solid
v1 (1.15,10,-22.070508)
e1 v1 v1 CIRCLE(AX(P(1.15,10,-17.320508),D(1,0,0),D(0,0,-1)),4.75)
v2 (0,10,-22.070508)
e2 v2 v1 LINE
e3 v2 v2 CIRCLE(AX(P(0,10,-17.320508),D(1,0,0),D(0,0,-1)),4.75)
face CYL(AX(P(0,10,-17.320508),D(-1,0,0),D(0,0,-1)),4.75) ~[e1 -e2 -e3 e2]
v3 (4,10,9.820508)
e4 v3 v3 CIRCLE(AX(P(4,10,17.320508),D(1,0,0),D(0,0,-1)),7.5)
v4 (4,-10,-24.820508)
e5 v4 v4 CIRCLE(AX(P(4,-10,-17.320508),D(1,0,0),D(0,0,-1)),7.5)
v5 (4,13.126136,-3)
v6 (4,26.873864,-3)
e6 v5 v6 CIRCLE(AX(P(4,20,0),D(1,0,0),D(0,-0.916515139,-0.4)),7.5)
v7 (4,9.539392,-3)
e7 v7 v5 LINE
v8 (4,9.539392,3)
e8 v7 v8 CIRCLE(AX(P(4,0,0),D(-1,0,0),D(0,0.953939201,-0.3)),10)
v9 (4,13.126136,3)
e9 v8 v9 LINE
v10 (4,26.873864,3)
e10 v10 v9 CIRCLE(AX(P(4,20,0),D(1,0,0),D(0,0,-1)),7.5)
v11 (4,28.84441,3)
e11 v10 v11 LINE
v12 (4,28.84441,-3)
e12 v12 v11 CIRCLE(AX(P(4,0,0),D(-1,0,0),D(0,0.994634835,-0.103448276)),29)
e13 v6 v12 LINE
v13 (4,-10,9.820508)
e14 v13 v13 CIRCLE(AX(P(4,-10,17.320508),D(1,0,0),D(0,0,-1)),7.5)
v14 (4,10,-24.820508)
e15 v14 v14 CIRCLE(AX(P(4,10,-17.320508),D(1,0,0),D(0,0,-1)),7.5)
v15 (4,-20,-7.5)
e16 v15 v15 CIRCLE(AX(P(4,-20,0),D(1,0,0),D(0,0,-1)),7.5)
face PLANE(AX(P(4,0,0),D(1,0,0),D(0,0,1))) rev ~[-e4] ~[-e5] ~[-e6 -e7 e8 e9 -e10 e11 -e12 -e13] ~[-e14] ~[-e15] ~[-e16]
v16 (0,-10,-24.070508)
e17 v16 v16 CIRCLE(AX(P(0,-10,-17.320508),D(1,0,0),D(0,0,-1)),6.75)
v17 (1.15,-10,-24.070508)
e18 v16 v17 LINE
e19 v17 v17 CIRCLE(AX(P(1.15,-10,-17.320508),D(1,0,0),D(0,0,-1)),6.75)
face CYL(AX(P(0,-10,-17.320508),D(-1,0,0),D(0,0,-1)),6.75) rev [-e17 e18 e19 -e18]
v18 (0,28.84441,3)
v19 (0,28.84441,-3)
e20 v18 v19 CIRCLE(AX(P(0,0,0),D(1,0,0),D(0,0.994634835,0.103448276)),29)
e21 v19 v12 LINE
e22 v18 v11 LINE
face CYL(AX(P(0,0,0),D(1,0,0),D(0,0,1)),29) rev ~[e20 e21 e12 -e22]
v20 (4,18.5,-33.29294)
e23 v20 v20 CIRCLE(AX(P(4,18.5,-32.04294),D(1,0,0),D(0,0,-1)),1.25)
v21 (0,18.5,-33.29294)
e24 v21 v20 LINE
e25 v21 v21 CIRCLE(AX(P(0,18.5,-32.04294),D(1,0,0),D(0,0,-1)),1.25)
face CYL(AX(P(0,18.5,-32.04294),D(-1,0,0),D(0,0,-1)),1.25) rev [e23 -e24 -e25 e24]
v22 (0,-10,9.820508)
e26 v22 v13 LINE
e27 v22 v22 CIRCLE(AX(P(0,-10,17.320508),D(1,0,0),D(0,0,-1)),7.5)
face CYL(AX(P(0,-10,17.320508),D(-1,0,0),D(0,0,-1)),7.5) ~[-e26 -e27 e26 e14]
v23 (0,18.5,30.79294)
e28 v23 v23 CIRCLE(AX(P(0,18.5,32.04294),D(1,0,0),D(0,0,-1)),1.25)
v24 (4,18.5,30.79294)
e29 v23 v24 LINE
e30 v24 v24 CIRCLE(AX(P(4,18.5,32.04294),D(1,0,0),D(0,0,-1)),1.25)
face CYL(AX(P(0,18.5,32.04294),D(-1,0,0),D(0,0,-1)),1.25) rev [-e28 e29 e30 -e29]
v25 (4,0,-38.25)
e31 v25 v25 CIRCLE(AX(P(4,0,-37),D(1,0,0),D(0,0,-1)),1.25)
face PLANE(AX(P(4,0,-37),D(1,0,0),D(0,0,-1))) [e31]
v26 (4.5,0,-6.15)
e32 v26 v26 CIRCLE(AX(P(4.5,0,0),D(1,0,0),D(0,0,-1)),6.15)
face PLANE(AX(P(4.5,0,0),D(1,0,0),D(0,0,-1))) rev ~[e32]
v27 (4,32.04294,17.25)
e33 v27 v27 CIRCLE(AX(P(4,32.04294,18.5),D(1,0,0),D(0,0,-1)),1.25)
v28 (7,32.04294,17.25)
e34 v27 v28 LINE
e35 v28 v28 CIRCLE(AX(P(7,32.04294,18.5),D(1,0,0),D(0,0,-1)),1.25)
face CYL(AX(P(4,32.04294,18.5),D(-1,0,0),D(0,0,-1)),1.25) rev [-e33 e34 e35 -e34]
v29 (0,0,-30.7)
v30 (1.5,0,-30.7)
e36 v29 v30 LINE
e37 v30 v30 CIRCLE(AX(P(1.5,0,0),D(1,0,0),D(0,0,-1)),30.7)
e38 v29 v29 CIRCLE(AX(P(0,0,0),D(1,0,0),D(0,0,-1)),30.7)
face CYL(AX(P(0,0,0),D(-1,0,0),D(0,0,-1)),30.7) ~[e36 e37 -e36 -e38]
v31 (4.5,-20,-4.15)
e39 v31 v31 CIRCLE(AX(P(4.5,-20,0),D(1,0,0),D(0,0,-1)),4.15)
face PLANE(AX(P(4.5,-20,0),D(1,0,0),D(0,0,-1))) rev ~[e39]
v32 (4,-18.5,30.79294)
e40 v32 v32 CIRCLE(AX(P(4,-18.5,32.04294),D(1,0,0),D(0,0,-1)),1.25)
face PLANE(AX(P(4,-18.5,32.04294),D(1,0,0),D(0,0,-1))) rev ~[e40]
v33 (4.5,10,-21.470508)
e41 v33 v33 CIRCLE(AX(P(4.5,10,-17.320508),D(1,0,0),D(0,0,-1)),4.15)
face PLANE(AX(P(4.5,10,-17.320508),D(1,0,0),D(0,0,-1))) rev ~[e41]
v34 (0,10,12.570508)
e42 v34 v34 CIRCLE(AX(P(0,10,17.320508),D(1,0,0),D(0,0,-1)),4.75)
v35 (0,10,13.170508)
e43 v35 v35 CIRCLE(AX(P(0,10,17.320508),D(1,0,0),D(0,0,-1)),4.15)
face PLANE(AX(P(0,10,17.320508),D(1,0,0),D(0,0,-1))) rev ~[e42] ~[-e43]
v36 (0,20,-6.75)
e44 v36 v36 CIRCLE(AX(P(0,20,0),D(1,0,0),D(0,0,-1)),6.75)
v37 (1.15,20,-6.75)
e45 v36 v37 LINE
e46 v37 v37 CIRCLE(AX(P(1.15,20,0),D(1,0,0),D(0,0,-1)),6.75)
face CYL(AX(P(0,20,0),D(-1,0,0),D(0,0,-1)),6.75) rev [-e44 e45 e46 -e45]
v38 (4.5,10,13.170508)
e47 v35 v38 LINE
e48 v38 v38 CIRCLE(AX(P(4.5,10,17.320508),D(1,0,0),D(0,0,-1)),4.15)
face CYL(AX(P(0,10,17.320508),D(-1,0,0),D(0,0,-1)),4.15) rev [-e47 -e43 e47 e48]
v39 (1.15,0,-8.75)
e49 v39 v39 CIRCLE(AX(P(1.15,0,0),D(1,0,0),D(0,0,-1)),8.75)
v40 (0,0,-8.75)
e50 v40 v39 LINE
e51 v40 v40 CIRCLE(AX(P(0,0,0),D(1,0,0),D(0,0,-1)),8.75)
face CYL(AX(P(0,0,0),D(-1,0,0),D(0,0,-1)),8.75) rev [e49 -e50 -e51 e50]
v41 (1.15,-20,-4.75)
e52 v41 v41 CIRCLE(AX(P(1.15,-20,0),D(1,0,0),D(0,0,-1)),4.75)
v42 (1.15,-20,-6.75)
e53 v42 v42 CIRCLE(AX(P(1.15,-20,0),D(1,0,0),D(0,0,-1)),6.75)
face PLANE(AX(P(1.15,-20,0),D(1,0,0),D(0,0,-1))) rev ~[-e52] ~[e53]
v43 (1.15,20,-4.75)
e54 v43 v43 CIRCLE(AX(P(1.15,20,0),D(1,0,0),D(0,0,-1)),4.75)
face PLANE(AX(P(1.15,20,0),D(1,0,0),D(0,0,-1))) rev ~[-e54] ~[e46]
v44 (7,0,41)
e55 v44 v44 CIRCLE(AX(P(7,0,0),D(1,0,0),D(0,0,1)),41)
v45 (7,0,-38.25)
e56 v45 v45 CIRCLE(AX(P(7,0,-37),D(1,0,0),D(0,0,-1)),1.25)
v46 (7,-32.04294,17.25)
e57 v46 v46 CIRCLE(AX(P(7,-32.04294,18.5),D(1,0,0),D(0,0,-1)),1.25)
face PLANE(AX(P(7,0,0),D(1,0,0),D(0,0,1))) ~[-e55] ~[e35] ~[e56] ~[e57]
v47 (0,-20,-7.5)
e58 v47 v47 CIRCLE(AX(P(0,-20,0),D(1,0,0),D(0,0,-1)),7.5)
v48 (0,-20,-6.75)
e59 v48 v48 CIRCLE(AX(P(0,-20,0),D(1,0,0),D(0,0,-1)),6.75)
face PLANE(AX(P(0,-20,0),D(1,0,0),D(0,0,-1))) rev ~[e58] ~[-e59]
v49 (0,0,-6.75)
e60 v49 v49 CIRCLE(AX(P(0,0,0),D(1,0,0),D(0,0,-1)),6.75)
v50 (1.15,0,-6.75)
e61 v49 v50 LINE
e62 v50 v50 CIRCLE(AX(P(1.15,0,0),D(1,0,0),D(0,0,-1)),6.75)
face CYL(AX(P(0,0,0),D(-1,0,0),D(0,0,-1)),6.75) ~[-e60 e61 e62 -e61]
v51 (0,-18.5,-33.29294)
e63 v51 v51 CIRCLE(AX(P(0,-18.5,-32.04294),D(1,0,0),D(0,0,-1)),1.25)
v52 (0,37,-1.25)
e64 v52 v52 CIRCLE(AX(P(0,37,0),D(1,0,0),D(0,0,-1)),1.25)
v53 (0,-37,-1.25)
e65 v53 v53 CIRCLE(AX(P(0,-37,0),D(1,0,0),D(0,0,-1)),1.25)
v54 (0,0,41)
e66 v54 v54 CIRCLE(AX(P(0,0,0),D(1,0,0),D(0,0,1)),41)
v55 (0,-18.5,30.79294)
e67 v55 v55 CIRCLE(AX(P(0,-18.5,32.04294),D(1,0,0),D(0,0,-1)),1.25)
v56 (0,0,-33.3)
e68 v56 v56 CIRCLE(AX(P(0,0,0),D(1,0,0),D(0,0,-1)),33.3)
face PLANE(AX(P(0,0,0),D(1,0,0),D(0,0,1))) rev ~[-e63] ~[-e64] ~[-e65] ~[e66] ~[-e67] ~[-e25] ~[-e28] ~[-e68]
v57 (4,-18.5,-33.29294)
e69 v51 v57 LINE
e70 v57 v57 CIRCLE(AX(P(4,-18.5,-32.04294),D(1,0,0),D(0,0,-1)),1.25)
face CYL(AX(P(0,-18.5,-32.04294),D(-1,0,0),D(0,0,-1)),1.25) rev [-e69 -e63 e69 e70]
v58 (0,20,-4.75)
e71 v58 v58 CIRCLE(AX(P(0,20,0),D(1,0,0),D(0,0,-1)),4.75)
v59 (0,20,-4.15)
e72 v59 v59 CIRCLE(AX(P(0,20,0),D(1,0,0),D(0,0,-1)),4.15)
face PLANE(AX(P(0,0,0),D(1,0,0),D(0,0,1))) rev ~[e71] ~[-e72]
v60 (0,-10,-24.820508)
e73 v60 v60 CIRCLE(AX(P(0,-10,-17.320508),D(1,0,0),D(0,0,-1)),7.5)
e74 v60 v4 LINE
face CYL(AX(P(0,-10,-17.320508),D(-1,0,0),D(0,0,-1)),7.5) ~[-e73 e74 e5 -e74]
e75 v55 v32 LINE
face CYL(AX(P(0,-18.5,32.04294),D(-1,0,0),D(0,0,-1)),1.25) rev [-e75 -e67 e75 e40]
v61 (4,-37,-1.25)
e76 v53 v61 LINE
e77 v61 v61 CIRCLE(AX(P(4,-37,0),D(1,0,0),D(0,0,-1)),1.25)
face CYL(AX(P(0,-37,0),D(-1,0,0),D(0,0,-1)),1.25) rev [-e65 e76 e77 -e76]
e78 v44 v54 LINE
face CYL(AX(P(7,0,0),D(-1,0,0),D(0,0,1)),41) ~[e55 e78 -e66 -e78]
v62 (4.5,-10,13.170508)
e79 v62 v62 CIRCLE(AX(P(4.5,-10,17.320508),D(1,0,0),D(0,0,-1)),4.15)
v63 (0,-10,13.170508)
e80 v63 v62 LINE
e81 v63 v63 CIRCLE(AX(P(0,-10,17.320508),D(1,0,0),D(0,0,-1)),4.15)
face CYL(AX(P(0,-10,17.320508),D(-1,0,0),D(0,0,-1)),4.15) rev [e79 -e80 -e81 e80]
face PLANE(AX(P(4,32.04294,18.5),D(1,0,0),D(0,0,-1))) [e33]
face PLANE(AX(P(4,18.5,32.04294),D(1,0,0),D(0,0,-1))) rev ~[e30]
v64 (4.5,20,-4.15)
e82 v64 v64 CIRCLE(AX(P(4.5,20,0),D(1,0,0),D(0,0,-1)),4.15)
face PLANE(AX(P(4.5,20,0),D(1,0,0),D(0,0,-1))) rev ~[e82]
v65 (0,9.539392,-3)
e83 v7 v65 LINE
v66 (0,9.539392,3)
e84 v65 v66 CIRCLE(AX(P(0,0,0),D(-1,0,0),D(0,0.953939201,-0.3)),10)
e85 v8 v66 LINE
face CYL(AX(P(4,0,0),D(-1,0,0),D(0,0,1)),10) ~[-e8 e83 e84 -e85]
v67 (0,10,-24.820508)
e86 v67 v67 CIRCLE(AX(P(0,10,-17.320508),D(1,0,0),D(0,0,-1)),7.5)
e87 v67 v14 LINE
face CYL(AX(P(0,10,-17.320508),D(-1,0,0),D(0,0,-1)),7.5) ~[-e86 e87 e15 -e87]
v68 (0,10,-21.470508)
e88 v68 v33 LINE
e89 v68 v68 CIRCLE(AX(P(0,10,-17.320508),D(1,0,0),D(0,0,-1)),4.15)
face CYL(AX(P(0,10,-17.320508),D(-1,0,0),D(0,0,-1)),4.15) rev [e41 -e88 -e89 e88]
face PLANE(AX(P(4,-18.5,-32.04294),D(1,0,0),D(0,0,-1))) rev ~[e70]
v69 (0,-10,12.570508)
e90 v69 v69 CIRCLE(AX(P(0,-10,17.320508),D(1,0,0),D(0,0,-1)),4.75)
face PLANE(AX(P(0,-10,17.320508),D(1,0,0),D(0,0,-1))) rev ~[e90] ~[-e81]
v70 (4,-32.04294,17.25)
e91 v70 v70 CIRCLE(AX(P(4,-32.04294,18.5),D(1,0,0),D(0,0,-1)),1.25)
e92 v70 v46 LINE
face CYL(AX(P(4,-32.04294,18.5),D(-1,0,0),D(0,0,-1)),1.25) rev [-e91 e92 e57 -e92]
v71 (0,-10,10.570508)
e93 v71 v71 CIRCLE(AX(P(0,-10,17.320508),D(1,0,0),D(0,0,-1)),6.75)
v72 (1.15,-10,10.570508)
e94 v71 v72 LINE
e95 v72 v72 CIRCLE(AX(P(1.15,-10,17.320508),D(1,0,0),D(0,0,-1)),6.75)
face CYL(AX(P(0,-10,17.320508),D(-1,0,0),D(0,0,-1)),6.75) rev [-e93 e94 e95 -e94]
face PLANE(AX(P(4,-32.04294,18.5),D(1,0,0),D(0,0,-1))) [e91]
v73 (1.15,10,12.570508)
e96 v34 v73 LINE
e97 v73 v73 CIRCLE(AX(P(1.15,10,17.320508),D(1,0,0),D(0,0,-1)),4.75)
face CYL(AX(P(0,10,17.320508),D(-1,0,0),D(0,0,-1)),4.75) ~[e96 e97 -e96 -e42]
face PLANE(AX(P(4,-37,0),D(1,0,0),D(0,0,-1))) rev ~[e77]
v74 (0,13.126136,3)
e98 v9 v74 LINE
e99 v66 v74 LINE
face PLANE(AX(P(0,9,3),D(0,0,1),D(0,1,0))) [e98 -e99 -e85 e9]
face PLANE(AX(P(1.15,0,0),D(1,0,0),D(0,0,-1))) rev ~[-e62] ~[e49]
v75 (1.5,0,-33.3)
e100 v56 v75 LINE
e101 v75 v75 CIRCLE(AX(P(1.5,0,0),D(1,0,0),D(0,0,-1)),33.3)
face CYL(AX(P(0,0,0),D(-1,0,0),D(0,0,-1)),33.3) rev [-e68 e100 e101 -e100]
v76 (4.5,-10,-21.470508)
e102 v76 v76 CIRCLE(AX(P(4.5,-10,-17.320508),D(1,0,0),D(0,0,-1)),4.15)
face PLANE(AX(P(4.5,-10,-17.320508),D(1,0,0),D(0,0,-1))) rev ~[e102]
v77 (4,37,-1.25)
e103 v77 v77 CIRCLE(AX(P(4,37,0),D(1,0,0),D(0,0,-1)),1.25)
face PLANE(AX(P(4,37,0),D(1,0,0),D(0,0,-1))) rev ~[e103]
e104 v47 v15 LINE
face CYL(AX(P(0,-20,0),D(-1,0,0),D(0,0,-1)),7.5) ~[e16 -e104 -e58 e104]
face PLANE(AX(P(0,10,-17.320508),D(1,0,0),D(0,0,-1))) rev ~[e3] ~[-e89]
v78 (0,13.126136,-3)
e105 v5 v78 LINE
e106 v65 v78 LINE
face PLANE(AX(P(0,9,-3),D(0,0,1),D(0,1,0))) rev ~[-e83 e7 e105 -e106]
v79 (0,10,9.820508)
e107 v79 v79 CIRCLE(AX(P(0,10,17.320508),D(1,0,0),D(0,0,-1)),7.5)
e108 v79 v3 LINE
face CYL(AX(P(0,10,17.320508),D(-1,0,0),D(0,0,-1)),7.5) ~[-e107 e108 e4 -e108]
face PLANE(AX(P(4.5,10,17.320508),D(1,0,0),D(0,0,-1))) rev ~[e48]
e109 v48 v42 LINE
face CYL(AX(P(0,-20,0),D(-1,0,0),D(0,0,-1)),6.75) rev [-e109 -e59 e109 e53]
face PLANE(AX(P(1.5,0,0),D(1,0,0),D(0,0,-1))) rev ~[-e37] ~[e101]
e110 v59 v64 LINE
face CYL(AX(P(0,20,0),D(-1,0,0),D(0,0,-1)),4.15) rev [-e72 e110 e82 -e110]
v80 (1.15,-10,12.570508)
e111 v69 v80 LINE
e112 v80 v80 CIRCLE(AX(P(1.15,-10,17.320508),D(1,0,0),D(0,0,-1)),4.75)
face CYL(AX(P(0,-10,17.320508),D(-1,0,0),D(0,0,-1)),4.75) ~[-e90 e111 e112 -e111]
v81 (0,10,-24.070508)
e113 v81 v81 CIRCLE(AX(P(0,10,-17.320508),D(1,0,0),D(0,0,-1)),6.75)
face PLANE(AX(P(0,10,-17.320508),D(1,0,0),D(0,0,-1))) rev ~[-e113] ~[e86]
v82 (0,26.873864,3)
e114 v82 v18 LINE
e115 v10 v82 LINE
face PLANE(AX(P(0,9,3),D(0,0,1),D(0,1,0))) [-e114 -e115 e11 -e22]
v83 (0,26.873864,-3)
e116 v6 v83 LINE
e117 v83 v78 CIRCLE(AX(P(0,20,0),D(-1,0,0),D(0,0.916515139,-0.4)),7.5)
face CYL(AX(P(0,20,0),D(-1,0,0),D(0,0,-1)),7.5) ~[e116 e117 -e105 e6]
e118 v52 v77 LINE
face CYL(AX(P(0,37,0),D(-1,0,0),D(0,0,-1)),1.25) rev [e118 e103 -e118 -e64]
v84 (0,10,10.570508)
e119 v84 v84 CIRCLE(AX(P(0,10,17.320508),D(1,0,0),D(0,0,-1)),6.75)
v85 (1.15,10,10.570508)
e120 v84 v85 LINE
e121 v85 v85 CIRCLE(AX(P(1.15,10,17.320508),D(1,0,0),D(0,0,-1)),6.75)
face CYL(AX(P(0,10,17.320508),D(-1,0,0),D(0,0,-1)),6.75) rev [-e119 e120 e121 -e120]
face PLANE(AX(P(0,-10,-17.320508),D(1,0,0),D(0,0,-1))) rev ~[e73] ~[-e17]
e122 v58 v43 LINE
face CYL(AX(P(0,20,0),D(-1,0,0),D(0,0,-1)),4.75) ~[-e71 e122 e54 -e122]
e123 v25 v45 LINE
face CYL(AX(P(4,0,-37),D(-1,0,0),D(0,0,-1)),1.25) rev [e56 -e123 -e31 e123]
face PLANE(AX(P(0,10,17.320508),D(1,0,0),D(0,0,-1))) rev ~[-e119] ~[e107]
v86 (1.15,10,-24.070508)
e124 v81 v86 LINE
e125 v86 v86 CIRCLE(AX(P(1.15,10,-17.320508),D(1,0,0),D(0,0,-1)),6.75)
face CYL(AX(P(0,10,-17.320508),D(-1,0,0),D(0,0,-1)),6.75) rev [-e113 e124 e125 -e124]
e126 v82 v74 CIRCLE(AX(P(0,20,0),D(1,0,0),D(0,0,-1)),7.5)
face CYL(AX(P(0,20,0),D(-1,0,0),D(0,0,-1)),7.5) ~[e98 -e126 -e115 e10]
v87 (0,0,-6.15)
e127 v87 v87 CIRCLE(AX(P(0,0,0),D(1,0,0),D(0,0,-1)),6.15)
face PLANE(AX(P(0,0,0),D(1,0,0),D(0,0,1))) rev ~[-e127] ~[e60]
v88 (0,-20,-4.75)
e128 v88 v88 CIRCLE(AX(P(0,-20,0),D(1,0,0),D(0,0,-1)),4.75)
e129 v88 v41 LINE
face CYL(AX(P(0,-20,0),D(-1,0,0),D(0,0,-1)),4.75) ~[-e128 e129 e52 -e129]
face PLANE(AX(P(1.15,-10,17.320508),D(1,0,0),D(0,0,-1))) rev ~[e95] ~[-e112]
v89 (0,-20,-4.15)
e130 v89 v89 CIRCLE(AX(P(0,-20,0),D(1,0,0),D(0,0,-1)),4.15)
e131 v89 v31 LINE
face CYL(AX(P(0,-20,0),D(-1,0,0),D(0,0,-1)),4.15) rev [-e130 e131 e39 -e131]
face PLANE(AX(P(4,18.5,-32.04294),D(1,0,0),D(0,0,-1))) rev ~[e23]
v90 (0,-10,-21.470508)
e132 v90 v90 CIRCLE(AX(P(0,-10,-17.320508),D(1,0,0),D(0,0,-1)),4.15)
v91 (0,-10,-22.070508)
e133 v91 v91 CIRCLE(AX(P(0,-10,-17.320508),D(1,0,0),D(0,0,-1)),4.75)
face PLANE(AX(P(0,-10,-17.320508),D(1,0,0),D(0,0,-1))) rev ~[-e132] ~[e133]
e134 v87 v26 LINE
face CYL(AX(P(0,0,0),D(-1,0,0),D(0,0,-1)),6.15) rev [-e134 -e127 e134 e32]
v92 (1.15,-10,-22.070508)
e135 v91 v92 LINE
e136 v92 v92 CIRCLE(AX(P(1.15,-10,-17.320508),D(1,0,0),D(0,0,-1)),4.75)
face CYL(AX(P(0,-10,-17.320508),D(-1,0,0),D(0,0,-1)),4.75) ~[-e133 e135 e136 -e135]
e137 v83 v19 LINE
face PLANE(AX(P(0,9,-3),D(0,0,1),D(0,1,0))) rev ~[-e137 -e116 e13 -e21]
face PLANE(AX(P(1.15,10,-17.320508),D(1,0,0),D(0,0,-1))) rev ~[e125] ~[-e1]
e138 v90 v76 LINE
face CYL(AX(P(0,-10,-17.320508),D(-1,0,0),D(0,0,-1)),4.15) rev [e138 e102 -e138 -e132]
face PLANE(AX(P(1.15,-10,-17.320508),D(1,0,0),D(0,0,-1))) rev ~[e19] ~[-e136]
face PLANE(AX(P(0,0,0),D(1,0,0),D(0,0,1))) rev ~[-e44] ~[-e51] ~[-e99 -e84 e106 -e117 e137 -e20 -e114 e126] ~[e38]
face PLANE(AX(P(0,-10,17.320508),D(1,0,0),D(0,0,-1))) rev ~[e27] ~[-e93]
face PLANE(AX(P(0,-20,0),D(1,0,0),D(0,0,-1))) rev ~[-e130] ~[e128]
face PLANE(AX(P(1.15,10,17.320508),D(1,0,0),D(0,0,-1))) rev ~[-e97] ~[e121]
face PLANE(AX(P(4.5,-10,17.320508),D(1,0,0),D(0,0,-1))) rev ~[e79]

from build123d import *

# Parameters (mm, degrees)
SIX_INTEGRAL_DRY_MAGNET_WELL_ISLANDS_SKE_R     = 7.5
SIX_INTEGRAL_DRY_MAGNET_WELL_ISLANDS_DEPTH     = 4
INTEGRAL_6MM_WIDE_CHANNEL_DIVIDER_SKETCH_W     = 6
INTEGRAL_6MM_WIDE_CHANNEL_DIVIDER_SKETCH_H     = 21
INTEGRAL_6MM_WIDE_CHANNEL_DIVIDER_DEPTH        = 4
SEVEN_DRY_BLIND_MAGNET_WELLS_DEPTH4P5_SK_R     = 6.15
SEVEN_DRY_BLIND_MAGNET_WELLS_DEPTH4P5_SK_R_2   = 4.15
SEVEN_DRY_BLIND_MAGNET_WELLS_DEPTH4P5_DEPTH    = 4.5
CENTER_WELL_ID14X1P5_FACE_GLAND_SKETCH_R       = 8.75
CENTER_WELL_ID14X1P5_FACE_GLAND_SKETCH_R_2     = 6.75
CENTER_WELL_ID14X1P5_FACE_GLAND_DEPTH          = 1.15
OUTER_DRY_WELL_FACE_GLAND_1_SKETCH_R           = 6.75
OUTER_DRY_WELL_FACE_GLAND_1_SKETCH_R_2         = 4.75
OUTER_DRY_WELL_FACE_GLAND_1_DEPTH              = 1.15
OUTER_DRY_WELL_FACE_GLAND_2_SKETCH_R           = 6.75
OUTER_DRY_WELL_FACE_GLAND_2_SKETCH_R_2         = 4.75
OUTER_DRY_WELL_FACE_GLAND_2_DEPTH              = 1.15
OUTER_DRY_WELL_FACE_GLAND_3_SKETCH_R           = 6.75
OUTER_DRY_WELL_FACE_GLAND_3_SKETCH_R_2         = 4.75
OUTER_DRY_WELL_FACE_GLAND_3_DEPTH              = 1.15
OUTER_DRY_WELL_FACE_GLAND_4_SKETCH_R           = 6.75
OUTER_DRY_WELL_FACE_GLAND_4_SKETCH_R_2         = 4.75
OUTER_DRY_WELL_FACE_GLAND_4_DEPTH              = 1.15
OUTER_DRY_WELL_FACE_GLAND_5_SKETCH_R           = 6.75
OUTER_DRY_WELL_FACE_GLAND_5_SKETCH_R_2         = 4.75
OUTER_DRY_WELL_FACE_GLAND_5_DEPTH              = 1.15
OUTER_DRY_WELL_FACE_GLAND_6_SKETCH_R           = 6.75
OUTER_DRY_WELL_FACE_GLAND_6_SKETCH_R_2         = 4.75
OUTER_DRY_WELL_FACE_GLAND_6_DEPTH              = 1.15
PERIMETER_ID62X2_FACE_GLAND_SKETCH_R           = 33.3
PERIMETER_ID62X2_FACE_GLAND_SKETCH_R_2         = 30.7
PERIMETER_ID62X2_FACE_GLAND_DEPTH              = 1.5
SIX_REAR_M3_PILOT_POCKETS_PCD74_SKETCH_R       = 1.25
SIX_REAR_M3_PILOT_POCKETS_PCD74_DEPTH          = 4
THREE_START                                    = 4
THREE_INDEPENDENT_TARGET_CLAMP_PILOT_2_R       = 1.25
THREE_INDEPENDENT_TARGET_CLAMP_PILOTS_PC_DEPTH = 3


with BuildPart() as part:
    # Axial blank profile → Native revolved blank (revolve)
    with BuildSketch(Plane.XY, mode=Mode.PRIVATE) as native_revolved_blank_sk:
        Polygon((0, 0), (7, 0), (7, 41), (0, 41), (0, 29), (4, 29), (4, 10), (0, 10), align=None)
    revolve(native_revolved_blank_sk.sketch.rotate(Axis((-60, 0, 0), (1, 0, 0)), 90), axis=Axis((-60, 0, 0), (1, 0, 0)))

    # Six integral dry magnet-well islands sketch → Six integral dry magnet-well islands (add)
    with BuildSketch(Plane(origin=(0, 0, 0), x_dir=(0, 0, -1), z_dir=(1, 0, 0))):
        with Locations((0, 20)):
            Circle(SIX_INTEGRAL_DRY_MAGNET_WELL_ISLANDS_SKE_R)
        with Locations((-17.320508076, 10)):
            Circle(SIX_INTEGRAL_DRY_MAGNET_WELL_ISLANDS_SKE_R)
        with Locations((-17.320508076, -10)):
            Circle(SIX_INTEGRAL_DRY_MAGNET_WELL_ISLANDS_SKE_R)
        with Locations((0, -20)):
            Circle(SIX_INTEGRAL_DRY_MAGNET_WELL_ISLANDS_SKE_R)
        with Locations((17.320508076, -10)):
            Circle(SIX_INTEGRAL_DRY_MAGNET_WELL_ISLANDS_SKE_R)
        with Locations((17.320508076, 10)):
            Circle(SIX_INTEGRAL_DRY_MAGNET_WELL_ISLANDS_SKE_R)
    extrude(amount=SIX_INTEGRAL_DRY_MAGNET_WELL_ISLANDS_DEPTH)

    # Integral 6mm-wide channel divider sketch → Integral 6mm-wide channel divider (add)
    with BuildSketch(Plane(origin=(0, 0, 0), x_dir=(0, 0, -1), z_dir=(1, 0, 0))):
        with Locations((0, 19.5)):
            Rectangle(INTEGRAL_6MM_WIDE_CHANNEL_DIVIDER_SKETCH_W, INTEGRAL_6MM_WIDE_CHANNEL_DIVIDER_SKETCH_H)
    extrude(amount=INTEGRAL_6MM_WIDE_CHANNEL_DIVIDER_DEPTH)

    # Seven dry blind magnet wells depth4p5 sketch → Seven dry blind magnet wells depth4p5 (cut)
    with BuildSketch(Plane(origin=(0, 0, 0), x_dir=(0, 0, -1), z_dir=(1, 0, 0))):
        Circle(SEVEN_DRY_BLIND_MAGNET_WELLS_DEPTH4P5_SK_R)
        with Locations((0, 20)):
            Circle(SEVEN_DRY_BLIND_MAGNET_WELLS_DEPTH4P5_SK_R_2)
        with Locations((-17.320508076, 10)):
            Circle(SEVEN_DRY_BLIND_MAGNET_WELLS_DEPTH4P5_SK_R_2)
        with Locations((-17.320508076, -10)):
            Circle(SEVEN_DRY_BLIND_MAGNET_WELLS_DEPTH4P5_SK_R_2)
        with Locations((0, -20)):
            Circle(SEVEN_DRY_BLIND_MAGNET_WELLS_DEPTH4P5_SK_R_2)
        with Locations((17.320508076, -10)):
            Circle(SEVEN_DRY_BLIND_MAGNET_WELLS_DEPTH4P5_SK_R_2)
        with Locations((17.320508076, 10)):
            Circle(SEVEN_DRY_BLIND_MAGNET_WELLS_DEPTH4P5_SK_R_2)
    extrude(amount=SEVEN_DRY_BLIND_MAGNET_WELLS_DEPTH4P5_DEPTH, mode=Mode.SUBTRACT)

    # Center-well ID14x1p5 face gland sketch → Center-well ID14x1p5 face gland (cut)
    with BuildSketch(Plane(origin=(0, 0, 0), x_dir=(0, 0, -1), z_dir=(1, 0, 0))):
        Circle(CENTER_WELL_ID14X1P5_FACE_GLAND_SKETCH_R)
        Circle(CENTER_WELL_ID14X1P5_FACE_GLAND_SKETCH_R_2, mode=Mode.SUBTRACT)
    extrude(amount=CENTER_WELL_ID14X1P5_FACE_GLAND_DEPTH, mode=Mode.SUBTRACT)

    # Outer dry-well face gland 1 sketch → Outer dry-well face gland 1 (cut)
    with BuildSketch(Plane(origin=(0, 0, 0), x_dir=(0, 0, -1), z_dir=(1, 0, 0))):
        with Locations((0, 20)):
            Circle(OUTER_DRY_WELL_FACE_GLAND_1_SKETCH_R)
        with Locations((0, 20)):
            Circle(OUTER_DRY_WELL_FACE_GLAND_1_SKETCH_R_2, mode=Mode.SUBTRACT)
    extrude(amount=OUTER_DRY_WELL_FACE_GLAND_1_DEPTH, mode=Mode.SUBTRACT)

    # Outer dry-well face gland 2 sketch → Outer dry-well face gland 2 (cut)
    with BuildSketch(Plane(origin=(0, 0, 0), x_dir=(0, 0, -1), z_dir=(1, 0, 0))):
        with Locations((-17.320508076, 10)):
            Circle(OUTER_DRY_WELL_FACE_GLAND_2_SKETCH_R)
        with Locations((-17.320508076, 10)):
            Circle(OUTER_DRY_WELL_FACE_GLAND_2_SKETCH_R_2, mode=Mode.SUBTRACT)
    extrude(amount=OUTER_DRY_WELL_FACE_GLAND_2_DEPTH, mode=Mode.SUBTRACT)

    # Outer dry-well face gland 3 sketch → Outer dry-well face gland 3 (cut)
    with BuildSketch(Plane(origin=(0, 0, 0), x_dir=(0, 0, -1), z_dir=(1, 0, 0))):
        with Locations((-17.320508076, -10)):
            Circle(OUTER_DRY_WELL_FACE_GLAND_3_SKETCH_R)
        with Locations((-17.320508076, -10)):
            Circle(OUTER_DRY_WELL_FACE_GLAND_3_SKETCH_R_2, mode=Mode.SUBTRACT)
    extrude(amount=OUTER_DRY_WELL_FACE_GLAND_3_DEPTH, mode=Mode.SUBTRACT)

    # Outer dry-well face gland 4 sketch → Outer dry-well face gland 4 (cut)
    with BuildSketch(Plane(origin=(0, 0, 0), x_dir=(0, 0, -1), z_dir=(1, 0, 0))):
        with Locations((0, -20)):
            Circle(OUTER_DRY_WELL_FACE_GLAND_4_SKETCH_R)
        with Locations((0, -20)):
            Circle(OUTER_DRY_WELL_FACE_GLAND_4_SKETCH_R_2, mode=Mode.SUBTRACT)
    extrude(amount=OUTER_DRY_WELL_FACE_GLAND_4_DEPTH, mode=Mode.SUBTRACT)

    # Outer dry-well face gland 5 sketch → Outer dry-well face gland 5 (cut)
    with BuildSketch(Plane(origin=(0, 0, 0), x_dir=(0, 0, -1), z_dir=(1, 0, 0))):
        with Locations((17.320508076, -10)):
            Circle(OUTER_DRY_WELL_FACE_GLAND_5_SKETCH_R)
        with Locations((17.320508076, -10)):
            Circle(OUTER_DRY_WELL_FACE_GLAND_5_SKETCH_R_2, mode=Mode.SUBTRACT)
    extrude(amount=OUTER_DRY_WELL_FACE_GLAND_5_DEPTH, mode=Mode.SUBTRACT)

    # Outer dry-well face gland 6 sketch → Outer dry-well face gland 6 (cut)
    with BuildSketch(Plane(origin=(0, 0, 0), x_dir=(0, 0, -1), z_dir=(1, 0, 0))):
        with Locations((17.320508076, 10)):
            Circle(OUTER_DRY_WELL_FACE_GLAND_6_SKETCH_R)
        with Locations((17.320508076, 10)):
            Circle(OUTER_DRY_WELL_FACE_GLAND_6_SKETCH_R_2, mode=Mode.SUBTRACT)
    extrude(amount=OUTER_DRY_WELL_FACE_GLAND_6_DEPTH, mode=Mode.SUBTRACT)

    # Perimeter ID62x2 face gland sketch → Perimeter ID62x2 face gland (cut)
    with BuildSketch(Plane(origin=(0, 0, 0), x_dir=(0, 0, -1), z_dir=(1, 0, 0))):
        Circle(PERIMETER_ID62X2_FACE_GLAND_SKETCH_R)
        Circle(PERIMETER_ID62X2_FACE_GLAND_SKETCH_R_2, mode=Mode.SUBTRACT)
    extrude(amount=PERIMETER_ID62X2_FACE_GLAND_DEPTH, mode=Mode.SUBTRACT)

    # Six rear M3 pilot pockets PCD74 sketch → Six rear M3 pilot pockets PCD74 (cut)
    with BuildSketch(Plane(origin=(0, 0, 0), x_dir=(0, 0, -1), z_dir=(1, 0, 0))):
        with Locations((0, 37)):
            Circle(SIX_REAR_M3_PILOT_POCKETS_PCD74_SKETCH_R)
        with Locations((-32.04293994, 18.5)):
            Circle(SIX_REAR_M3_PILOT_POCKETS_PCD74_SKETCH_R)
        with Locations((-32.04293994, -18.5)):
            Circle(SIX_REAR_M3_PILOT_POCKETS_PCD74_SKETCH_R)
        with Locations((0, -37)):
            Circle(SIX_REAR_M3_PILOT_POCKETS_PCD74_SKETCH_R)
        with Locations((32.04293994, -18.5)):
            Circle(SIX_REAR_M3_PILOT_POCKETS_PCD74_SKETCH_R)
        with Locations((32.04293994, 18.5)):
            Circle(SIX_REAR_M3_PILOT_POCKETS_PCD74_SKETCH_R)
    extrude(amount=SIX_REAR_M3_PILOT_POCKETS_PCD74_DEPTH, mode=Mode.SUBTRACT)

    # Three independent target-clamp pilot 2 → Three independent target-clamp pilots PC (cut)
    with BuildSketch(Plane(origin=(0, 0, 0), x_dir=(0, 0, -1), z_dir=(1, 0, 0)).offset(THREE_START)):
        with Locations((-18.5, 32.04293994)):
            Circle(THREE_INDEPENDENT_TARGET_CLAMP_PILOT_2_R)
        with Locations((-18.5, -32.04293994)):
            Circle(THREE_INDEPENDENT_TARGET_CLAMP_PILOT_2_R)
        with Locations((37, 0)):
            Circle(THREE_INDEPENDENT_TARGET_CLAMP_PILOT_2_R)
    extrude(amount=THREE_INDEPENDENT_TARGET_CLAMP_PILOTS_PC_DEPTH, mode=Mode.SUBTRACT)


solid = part.part
